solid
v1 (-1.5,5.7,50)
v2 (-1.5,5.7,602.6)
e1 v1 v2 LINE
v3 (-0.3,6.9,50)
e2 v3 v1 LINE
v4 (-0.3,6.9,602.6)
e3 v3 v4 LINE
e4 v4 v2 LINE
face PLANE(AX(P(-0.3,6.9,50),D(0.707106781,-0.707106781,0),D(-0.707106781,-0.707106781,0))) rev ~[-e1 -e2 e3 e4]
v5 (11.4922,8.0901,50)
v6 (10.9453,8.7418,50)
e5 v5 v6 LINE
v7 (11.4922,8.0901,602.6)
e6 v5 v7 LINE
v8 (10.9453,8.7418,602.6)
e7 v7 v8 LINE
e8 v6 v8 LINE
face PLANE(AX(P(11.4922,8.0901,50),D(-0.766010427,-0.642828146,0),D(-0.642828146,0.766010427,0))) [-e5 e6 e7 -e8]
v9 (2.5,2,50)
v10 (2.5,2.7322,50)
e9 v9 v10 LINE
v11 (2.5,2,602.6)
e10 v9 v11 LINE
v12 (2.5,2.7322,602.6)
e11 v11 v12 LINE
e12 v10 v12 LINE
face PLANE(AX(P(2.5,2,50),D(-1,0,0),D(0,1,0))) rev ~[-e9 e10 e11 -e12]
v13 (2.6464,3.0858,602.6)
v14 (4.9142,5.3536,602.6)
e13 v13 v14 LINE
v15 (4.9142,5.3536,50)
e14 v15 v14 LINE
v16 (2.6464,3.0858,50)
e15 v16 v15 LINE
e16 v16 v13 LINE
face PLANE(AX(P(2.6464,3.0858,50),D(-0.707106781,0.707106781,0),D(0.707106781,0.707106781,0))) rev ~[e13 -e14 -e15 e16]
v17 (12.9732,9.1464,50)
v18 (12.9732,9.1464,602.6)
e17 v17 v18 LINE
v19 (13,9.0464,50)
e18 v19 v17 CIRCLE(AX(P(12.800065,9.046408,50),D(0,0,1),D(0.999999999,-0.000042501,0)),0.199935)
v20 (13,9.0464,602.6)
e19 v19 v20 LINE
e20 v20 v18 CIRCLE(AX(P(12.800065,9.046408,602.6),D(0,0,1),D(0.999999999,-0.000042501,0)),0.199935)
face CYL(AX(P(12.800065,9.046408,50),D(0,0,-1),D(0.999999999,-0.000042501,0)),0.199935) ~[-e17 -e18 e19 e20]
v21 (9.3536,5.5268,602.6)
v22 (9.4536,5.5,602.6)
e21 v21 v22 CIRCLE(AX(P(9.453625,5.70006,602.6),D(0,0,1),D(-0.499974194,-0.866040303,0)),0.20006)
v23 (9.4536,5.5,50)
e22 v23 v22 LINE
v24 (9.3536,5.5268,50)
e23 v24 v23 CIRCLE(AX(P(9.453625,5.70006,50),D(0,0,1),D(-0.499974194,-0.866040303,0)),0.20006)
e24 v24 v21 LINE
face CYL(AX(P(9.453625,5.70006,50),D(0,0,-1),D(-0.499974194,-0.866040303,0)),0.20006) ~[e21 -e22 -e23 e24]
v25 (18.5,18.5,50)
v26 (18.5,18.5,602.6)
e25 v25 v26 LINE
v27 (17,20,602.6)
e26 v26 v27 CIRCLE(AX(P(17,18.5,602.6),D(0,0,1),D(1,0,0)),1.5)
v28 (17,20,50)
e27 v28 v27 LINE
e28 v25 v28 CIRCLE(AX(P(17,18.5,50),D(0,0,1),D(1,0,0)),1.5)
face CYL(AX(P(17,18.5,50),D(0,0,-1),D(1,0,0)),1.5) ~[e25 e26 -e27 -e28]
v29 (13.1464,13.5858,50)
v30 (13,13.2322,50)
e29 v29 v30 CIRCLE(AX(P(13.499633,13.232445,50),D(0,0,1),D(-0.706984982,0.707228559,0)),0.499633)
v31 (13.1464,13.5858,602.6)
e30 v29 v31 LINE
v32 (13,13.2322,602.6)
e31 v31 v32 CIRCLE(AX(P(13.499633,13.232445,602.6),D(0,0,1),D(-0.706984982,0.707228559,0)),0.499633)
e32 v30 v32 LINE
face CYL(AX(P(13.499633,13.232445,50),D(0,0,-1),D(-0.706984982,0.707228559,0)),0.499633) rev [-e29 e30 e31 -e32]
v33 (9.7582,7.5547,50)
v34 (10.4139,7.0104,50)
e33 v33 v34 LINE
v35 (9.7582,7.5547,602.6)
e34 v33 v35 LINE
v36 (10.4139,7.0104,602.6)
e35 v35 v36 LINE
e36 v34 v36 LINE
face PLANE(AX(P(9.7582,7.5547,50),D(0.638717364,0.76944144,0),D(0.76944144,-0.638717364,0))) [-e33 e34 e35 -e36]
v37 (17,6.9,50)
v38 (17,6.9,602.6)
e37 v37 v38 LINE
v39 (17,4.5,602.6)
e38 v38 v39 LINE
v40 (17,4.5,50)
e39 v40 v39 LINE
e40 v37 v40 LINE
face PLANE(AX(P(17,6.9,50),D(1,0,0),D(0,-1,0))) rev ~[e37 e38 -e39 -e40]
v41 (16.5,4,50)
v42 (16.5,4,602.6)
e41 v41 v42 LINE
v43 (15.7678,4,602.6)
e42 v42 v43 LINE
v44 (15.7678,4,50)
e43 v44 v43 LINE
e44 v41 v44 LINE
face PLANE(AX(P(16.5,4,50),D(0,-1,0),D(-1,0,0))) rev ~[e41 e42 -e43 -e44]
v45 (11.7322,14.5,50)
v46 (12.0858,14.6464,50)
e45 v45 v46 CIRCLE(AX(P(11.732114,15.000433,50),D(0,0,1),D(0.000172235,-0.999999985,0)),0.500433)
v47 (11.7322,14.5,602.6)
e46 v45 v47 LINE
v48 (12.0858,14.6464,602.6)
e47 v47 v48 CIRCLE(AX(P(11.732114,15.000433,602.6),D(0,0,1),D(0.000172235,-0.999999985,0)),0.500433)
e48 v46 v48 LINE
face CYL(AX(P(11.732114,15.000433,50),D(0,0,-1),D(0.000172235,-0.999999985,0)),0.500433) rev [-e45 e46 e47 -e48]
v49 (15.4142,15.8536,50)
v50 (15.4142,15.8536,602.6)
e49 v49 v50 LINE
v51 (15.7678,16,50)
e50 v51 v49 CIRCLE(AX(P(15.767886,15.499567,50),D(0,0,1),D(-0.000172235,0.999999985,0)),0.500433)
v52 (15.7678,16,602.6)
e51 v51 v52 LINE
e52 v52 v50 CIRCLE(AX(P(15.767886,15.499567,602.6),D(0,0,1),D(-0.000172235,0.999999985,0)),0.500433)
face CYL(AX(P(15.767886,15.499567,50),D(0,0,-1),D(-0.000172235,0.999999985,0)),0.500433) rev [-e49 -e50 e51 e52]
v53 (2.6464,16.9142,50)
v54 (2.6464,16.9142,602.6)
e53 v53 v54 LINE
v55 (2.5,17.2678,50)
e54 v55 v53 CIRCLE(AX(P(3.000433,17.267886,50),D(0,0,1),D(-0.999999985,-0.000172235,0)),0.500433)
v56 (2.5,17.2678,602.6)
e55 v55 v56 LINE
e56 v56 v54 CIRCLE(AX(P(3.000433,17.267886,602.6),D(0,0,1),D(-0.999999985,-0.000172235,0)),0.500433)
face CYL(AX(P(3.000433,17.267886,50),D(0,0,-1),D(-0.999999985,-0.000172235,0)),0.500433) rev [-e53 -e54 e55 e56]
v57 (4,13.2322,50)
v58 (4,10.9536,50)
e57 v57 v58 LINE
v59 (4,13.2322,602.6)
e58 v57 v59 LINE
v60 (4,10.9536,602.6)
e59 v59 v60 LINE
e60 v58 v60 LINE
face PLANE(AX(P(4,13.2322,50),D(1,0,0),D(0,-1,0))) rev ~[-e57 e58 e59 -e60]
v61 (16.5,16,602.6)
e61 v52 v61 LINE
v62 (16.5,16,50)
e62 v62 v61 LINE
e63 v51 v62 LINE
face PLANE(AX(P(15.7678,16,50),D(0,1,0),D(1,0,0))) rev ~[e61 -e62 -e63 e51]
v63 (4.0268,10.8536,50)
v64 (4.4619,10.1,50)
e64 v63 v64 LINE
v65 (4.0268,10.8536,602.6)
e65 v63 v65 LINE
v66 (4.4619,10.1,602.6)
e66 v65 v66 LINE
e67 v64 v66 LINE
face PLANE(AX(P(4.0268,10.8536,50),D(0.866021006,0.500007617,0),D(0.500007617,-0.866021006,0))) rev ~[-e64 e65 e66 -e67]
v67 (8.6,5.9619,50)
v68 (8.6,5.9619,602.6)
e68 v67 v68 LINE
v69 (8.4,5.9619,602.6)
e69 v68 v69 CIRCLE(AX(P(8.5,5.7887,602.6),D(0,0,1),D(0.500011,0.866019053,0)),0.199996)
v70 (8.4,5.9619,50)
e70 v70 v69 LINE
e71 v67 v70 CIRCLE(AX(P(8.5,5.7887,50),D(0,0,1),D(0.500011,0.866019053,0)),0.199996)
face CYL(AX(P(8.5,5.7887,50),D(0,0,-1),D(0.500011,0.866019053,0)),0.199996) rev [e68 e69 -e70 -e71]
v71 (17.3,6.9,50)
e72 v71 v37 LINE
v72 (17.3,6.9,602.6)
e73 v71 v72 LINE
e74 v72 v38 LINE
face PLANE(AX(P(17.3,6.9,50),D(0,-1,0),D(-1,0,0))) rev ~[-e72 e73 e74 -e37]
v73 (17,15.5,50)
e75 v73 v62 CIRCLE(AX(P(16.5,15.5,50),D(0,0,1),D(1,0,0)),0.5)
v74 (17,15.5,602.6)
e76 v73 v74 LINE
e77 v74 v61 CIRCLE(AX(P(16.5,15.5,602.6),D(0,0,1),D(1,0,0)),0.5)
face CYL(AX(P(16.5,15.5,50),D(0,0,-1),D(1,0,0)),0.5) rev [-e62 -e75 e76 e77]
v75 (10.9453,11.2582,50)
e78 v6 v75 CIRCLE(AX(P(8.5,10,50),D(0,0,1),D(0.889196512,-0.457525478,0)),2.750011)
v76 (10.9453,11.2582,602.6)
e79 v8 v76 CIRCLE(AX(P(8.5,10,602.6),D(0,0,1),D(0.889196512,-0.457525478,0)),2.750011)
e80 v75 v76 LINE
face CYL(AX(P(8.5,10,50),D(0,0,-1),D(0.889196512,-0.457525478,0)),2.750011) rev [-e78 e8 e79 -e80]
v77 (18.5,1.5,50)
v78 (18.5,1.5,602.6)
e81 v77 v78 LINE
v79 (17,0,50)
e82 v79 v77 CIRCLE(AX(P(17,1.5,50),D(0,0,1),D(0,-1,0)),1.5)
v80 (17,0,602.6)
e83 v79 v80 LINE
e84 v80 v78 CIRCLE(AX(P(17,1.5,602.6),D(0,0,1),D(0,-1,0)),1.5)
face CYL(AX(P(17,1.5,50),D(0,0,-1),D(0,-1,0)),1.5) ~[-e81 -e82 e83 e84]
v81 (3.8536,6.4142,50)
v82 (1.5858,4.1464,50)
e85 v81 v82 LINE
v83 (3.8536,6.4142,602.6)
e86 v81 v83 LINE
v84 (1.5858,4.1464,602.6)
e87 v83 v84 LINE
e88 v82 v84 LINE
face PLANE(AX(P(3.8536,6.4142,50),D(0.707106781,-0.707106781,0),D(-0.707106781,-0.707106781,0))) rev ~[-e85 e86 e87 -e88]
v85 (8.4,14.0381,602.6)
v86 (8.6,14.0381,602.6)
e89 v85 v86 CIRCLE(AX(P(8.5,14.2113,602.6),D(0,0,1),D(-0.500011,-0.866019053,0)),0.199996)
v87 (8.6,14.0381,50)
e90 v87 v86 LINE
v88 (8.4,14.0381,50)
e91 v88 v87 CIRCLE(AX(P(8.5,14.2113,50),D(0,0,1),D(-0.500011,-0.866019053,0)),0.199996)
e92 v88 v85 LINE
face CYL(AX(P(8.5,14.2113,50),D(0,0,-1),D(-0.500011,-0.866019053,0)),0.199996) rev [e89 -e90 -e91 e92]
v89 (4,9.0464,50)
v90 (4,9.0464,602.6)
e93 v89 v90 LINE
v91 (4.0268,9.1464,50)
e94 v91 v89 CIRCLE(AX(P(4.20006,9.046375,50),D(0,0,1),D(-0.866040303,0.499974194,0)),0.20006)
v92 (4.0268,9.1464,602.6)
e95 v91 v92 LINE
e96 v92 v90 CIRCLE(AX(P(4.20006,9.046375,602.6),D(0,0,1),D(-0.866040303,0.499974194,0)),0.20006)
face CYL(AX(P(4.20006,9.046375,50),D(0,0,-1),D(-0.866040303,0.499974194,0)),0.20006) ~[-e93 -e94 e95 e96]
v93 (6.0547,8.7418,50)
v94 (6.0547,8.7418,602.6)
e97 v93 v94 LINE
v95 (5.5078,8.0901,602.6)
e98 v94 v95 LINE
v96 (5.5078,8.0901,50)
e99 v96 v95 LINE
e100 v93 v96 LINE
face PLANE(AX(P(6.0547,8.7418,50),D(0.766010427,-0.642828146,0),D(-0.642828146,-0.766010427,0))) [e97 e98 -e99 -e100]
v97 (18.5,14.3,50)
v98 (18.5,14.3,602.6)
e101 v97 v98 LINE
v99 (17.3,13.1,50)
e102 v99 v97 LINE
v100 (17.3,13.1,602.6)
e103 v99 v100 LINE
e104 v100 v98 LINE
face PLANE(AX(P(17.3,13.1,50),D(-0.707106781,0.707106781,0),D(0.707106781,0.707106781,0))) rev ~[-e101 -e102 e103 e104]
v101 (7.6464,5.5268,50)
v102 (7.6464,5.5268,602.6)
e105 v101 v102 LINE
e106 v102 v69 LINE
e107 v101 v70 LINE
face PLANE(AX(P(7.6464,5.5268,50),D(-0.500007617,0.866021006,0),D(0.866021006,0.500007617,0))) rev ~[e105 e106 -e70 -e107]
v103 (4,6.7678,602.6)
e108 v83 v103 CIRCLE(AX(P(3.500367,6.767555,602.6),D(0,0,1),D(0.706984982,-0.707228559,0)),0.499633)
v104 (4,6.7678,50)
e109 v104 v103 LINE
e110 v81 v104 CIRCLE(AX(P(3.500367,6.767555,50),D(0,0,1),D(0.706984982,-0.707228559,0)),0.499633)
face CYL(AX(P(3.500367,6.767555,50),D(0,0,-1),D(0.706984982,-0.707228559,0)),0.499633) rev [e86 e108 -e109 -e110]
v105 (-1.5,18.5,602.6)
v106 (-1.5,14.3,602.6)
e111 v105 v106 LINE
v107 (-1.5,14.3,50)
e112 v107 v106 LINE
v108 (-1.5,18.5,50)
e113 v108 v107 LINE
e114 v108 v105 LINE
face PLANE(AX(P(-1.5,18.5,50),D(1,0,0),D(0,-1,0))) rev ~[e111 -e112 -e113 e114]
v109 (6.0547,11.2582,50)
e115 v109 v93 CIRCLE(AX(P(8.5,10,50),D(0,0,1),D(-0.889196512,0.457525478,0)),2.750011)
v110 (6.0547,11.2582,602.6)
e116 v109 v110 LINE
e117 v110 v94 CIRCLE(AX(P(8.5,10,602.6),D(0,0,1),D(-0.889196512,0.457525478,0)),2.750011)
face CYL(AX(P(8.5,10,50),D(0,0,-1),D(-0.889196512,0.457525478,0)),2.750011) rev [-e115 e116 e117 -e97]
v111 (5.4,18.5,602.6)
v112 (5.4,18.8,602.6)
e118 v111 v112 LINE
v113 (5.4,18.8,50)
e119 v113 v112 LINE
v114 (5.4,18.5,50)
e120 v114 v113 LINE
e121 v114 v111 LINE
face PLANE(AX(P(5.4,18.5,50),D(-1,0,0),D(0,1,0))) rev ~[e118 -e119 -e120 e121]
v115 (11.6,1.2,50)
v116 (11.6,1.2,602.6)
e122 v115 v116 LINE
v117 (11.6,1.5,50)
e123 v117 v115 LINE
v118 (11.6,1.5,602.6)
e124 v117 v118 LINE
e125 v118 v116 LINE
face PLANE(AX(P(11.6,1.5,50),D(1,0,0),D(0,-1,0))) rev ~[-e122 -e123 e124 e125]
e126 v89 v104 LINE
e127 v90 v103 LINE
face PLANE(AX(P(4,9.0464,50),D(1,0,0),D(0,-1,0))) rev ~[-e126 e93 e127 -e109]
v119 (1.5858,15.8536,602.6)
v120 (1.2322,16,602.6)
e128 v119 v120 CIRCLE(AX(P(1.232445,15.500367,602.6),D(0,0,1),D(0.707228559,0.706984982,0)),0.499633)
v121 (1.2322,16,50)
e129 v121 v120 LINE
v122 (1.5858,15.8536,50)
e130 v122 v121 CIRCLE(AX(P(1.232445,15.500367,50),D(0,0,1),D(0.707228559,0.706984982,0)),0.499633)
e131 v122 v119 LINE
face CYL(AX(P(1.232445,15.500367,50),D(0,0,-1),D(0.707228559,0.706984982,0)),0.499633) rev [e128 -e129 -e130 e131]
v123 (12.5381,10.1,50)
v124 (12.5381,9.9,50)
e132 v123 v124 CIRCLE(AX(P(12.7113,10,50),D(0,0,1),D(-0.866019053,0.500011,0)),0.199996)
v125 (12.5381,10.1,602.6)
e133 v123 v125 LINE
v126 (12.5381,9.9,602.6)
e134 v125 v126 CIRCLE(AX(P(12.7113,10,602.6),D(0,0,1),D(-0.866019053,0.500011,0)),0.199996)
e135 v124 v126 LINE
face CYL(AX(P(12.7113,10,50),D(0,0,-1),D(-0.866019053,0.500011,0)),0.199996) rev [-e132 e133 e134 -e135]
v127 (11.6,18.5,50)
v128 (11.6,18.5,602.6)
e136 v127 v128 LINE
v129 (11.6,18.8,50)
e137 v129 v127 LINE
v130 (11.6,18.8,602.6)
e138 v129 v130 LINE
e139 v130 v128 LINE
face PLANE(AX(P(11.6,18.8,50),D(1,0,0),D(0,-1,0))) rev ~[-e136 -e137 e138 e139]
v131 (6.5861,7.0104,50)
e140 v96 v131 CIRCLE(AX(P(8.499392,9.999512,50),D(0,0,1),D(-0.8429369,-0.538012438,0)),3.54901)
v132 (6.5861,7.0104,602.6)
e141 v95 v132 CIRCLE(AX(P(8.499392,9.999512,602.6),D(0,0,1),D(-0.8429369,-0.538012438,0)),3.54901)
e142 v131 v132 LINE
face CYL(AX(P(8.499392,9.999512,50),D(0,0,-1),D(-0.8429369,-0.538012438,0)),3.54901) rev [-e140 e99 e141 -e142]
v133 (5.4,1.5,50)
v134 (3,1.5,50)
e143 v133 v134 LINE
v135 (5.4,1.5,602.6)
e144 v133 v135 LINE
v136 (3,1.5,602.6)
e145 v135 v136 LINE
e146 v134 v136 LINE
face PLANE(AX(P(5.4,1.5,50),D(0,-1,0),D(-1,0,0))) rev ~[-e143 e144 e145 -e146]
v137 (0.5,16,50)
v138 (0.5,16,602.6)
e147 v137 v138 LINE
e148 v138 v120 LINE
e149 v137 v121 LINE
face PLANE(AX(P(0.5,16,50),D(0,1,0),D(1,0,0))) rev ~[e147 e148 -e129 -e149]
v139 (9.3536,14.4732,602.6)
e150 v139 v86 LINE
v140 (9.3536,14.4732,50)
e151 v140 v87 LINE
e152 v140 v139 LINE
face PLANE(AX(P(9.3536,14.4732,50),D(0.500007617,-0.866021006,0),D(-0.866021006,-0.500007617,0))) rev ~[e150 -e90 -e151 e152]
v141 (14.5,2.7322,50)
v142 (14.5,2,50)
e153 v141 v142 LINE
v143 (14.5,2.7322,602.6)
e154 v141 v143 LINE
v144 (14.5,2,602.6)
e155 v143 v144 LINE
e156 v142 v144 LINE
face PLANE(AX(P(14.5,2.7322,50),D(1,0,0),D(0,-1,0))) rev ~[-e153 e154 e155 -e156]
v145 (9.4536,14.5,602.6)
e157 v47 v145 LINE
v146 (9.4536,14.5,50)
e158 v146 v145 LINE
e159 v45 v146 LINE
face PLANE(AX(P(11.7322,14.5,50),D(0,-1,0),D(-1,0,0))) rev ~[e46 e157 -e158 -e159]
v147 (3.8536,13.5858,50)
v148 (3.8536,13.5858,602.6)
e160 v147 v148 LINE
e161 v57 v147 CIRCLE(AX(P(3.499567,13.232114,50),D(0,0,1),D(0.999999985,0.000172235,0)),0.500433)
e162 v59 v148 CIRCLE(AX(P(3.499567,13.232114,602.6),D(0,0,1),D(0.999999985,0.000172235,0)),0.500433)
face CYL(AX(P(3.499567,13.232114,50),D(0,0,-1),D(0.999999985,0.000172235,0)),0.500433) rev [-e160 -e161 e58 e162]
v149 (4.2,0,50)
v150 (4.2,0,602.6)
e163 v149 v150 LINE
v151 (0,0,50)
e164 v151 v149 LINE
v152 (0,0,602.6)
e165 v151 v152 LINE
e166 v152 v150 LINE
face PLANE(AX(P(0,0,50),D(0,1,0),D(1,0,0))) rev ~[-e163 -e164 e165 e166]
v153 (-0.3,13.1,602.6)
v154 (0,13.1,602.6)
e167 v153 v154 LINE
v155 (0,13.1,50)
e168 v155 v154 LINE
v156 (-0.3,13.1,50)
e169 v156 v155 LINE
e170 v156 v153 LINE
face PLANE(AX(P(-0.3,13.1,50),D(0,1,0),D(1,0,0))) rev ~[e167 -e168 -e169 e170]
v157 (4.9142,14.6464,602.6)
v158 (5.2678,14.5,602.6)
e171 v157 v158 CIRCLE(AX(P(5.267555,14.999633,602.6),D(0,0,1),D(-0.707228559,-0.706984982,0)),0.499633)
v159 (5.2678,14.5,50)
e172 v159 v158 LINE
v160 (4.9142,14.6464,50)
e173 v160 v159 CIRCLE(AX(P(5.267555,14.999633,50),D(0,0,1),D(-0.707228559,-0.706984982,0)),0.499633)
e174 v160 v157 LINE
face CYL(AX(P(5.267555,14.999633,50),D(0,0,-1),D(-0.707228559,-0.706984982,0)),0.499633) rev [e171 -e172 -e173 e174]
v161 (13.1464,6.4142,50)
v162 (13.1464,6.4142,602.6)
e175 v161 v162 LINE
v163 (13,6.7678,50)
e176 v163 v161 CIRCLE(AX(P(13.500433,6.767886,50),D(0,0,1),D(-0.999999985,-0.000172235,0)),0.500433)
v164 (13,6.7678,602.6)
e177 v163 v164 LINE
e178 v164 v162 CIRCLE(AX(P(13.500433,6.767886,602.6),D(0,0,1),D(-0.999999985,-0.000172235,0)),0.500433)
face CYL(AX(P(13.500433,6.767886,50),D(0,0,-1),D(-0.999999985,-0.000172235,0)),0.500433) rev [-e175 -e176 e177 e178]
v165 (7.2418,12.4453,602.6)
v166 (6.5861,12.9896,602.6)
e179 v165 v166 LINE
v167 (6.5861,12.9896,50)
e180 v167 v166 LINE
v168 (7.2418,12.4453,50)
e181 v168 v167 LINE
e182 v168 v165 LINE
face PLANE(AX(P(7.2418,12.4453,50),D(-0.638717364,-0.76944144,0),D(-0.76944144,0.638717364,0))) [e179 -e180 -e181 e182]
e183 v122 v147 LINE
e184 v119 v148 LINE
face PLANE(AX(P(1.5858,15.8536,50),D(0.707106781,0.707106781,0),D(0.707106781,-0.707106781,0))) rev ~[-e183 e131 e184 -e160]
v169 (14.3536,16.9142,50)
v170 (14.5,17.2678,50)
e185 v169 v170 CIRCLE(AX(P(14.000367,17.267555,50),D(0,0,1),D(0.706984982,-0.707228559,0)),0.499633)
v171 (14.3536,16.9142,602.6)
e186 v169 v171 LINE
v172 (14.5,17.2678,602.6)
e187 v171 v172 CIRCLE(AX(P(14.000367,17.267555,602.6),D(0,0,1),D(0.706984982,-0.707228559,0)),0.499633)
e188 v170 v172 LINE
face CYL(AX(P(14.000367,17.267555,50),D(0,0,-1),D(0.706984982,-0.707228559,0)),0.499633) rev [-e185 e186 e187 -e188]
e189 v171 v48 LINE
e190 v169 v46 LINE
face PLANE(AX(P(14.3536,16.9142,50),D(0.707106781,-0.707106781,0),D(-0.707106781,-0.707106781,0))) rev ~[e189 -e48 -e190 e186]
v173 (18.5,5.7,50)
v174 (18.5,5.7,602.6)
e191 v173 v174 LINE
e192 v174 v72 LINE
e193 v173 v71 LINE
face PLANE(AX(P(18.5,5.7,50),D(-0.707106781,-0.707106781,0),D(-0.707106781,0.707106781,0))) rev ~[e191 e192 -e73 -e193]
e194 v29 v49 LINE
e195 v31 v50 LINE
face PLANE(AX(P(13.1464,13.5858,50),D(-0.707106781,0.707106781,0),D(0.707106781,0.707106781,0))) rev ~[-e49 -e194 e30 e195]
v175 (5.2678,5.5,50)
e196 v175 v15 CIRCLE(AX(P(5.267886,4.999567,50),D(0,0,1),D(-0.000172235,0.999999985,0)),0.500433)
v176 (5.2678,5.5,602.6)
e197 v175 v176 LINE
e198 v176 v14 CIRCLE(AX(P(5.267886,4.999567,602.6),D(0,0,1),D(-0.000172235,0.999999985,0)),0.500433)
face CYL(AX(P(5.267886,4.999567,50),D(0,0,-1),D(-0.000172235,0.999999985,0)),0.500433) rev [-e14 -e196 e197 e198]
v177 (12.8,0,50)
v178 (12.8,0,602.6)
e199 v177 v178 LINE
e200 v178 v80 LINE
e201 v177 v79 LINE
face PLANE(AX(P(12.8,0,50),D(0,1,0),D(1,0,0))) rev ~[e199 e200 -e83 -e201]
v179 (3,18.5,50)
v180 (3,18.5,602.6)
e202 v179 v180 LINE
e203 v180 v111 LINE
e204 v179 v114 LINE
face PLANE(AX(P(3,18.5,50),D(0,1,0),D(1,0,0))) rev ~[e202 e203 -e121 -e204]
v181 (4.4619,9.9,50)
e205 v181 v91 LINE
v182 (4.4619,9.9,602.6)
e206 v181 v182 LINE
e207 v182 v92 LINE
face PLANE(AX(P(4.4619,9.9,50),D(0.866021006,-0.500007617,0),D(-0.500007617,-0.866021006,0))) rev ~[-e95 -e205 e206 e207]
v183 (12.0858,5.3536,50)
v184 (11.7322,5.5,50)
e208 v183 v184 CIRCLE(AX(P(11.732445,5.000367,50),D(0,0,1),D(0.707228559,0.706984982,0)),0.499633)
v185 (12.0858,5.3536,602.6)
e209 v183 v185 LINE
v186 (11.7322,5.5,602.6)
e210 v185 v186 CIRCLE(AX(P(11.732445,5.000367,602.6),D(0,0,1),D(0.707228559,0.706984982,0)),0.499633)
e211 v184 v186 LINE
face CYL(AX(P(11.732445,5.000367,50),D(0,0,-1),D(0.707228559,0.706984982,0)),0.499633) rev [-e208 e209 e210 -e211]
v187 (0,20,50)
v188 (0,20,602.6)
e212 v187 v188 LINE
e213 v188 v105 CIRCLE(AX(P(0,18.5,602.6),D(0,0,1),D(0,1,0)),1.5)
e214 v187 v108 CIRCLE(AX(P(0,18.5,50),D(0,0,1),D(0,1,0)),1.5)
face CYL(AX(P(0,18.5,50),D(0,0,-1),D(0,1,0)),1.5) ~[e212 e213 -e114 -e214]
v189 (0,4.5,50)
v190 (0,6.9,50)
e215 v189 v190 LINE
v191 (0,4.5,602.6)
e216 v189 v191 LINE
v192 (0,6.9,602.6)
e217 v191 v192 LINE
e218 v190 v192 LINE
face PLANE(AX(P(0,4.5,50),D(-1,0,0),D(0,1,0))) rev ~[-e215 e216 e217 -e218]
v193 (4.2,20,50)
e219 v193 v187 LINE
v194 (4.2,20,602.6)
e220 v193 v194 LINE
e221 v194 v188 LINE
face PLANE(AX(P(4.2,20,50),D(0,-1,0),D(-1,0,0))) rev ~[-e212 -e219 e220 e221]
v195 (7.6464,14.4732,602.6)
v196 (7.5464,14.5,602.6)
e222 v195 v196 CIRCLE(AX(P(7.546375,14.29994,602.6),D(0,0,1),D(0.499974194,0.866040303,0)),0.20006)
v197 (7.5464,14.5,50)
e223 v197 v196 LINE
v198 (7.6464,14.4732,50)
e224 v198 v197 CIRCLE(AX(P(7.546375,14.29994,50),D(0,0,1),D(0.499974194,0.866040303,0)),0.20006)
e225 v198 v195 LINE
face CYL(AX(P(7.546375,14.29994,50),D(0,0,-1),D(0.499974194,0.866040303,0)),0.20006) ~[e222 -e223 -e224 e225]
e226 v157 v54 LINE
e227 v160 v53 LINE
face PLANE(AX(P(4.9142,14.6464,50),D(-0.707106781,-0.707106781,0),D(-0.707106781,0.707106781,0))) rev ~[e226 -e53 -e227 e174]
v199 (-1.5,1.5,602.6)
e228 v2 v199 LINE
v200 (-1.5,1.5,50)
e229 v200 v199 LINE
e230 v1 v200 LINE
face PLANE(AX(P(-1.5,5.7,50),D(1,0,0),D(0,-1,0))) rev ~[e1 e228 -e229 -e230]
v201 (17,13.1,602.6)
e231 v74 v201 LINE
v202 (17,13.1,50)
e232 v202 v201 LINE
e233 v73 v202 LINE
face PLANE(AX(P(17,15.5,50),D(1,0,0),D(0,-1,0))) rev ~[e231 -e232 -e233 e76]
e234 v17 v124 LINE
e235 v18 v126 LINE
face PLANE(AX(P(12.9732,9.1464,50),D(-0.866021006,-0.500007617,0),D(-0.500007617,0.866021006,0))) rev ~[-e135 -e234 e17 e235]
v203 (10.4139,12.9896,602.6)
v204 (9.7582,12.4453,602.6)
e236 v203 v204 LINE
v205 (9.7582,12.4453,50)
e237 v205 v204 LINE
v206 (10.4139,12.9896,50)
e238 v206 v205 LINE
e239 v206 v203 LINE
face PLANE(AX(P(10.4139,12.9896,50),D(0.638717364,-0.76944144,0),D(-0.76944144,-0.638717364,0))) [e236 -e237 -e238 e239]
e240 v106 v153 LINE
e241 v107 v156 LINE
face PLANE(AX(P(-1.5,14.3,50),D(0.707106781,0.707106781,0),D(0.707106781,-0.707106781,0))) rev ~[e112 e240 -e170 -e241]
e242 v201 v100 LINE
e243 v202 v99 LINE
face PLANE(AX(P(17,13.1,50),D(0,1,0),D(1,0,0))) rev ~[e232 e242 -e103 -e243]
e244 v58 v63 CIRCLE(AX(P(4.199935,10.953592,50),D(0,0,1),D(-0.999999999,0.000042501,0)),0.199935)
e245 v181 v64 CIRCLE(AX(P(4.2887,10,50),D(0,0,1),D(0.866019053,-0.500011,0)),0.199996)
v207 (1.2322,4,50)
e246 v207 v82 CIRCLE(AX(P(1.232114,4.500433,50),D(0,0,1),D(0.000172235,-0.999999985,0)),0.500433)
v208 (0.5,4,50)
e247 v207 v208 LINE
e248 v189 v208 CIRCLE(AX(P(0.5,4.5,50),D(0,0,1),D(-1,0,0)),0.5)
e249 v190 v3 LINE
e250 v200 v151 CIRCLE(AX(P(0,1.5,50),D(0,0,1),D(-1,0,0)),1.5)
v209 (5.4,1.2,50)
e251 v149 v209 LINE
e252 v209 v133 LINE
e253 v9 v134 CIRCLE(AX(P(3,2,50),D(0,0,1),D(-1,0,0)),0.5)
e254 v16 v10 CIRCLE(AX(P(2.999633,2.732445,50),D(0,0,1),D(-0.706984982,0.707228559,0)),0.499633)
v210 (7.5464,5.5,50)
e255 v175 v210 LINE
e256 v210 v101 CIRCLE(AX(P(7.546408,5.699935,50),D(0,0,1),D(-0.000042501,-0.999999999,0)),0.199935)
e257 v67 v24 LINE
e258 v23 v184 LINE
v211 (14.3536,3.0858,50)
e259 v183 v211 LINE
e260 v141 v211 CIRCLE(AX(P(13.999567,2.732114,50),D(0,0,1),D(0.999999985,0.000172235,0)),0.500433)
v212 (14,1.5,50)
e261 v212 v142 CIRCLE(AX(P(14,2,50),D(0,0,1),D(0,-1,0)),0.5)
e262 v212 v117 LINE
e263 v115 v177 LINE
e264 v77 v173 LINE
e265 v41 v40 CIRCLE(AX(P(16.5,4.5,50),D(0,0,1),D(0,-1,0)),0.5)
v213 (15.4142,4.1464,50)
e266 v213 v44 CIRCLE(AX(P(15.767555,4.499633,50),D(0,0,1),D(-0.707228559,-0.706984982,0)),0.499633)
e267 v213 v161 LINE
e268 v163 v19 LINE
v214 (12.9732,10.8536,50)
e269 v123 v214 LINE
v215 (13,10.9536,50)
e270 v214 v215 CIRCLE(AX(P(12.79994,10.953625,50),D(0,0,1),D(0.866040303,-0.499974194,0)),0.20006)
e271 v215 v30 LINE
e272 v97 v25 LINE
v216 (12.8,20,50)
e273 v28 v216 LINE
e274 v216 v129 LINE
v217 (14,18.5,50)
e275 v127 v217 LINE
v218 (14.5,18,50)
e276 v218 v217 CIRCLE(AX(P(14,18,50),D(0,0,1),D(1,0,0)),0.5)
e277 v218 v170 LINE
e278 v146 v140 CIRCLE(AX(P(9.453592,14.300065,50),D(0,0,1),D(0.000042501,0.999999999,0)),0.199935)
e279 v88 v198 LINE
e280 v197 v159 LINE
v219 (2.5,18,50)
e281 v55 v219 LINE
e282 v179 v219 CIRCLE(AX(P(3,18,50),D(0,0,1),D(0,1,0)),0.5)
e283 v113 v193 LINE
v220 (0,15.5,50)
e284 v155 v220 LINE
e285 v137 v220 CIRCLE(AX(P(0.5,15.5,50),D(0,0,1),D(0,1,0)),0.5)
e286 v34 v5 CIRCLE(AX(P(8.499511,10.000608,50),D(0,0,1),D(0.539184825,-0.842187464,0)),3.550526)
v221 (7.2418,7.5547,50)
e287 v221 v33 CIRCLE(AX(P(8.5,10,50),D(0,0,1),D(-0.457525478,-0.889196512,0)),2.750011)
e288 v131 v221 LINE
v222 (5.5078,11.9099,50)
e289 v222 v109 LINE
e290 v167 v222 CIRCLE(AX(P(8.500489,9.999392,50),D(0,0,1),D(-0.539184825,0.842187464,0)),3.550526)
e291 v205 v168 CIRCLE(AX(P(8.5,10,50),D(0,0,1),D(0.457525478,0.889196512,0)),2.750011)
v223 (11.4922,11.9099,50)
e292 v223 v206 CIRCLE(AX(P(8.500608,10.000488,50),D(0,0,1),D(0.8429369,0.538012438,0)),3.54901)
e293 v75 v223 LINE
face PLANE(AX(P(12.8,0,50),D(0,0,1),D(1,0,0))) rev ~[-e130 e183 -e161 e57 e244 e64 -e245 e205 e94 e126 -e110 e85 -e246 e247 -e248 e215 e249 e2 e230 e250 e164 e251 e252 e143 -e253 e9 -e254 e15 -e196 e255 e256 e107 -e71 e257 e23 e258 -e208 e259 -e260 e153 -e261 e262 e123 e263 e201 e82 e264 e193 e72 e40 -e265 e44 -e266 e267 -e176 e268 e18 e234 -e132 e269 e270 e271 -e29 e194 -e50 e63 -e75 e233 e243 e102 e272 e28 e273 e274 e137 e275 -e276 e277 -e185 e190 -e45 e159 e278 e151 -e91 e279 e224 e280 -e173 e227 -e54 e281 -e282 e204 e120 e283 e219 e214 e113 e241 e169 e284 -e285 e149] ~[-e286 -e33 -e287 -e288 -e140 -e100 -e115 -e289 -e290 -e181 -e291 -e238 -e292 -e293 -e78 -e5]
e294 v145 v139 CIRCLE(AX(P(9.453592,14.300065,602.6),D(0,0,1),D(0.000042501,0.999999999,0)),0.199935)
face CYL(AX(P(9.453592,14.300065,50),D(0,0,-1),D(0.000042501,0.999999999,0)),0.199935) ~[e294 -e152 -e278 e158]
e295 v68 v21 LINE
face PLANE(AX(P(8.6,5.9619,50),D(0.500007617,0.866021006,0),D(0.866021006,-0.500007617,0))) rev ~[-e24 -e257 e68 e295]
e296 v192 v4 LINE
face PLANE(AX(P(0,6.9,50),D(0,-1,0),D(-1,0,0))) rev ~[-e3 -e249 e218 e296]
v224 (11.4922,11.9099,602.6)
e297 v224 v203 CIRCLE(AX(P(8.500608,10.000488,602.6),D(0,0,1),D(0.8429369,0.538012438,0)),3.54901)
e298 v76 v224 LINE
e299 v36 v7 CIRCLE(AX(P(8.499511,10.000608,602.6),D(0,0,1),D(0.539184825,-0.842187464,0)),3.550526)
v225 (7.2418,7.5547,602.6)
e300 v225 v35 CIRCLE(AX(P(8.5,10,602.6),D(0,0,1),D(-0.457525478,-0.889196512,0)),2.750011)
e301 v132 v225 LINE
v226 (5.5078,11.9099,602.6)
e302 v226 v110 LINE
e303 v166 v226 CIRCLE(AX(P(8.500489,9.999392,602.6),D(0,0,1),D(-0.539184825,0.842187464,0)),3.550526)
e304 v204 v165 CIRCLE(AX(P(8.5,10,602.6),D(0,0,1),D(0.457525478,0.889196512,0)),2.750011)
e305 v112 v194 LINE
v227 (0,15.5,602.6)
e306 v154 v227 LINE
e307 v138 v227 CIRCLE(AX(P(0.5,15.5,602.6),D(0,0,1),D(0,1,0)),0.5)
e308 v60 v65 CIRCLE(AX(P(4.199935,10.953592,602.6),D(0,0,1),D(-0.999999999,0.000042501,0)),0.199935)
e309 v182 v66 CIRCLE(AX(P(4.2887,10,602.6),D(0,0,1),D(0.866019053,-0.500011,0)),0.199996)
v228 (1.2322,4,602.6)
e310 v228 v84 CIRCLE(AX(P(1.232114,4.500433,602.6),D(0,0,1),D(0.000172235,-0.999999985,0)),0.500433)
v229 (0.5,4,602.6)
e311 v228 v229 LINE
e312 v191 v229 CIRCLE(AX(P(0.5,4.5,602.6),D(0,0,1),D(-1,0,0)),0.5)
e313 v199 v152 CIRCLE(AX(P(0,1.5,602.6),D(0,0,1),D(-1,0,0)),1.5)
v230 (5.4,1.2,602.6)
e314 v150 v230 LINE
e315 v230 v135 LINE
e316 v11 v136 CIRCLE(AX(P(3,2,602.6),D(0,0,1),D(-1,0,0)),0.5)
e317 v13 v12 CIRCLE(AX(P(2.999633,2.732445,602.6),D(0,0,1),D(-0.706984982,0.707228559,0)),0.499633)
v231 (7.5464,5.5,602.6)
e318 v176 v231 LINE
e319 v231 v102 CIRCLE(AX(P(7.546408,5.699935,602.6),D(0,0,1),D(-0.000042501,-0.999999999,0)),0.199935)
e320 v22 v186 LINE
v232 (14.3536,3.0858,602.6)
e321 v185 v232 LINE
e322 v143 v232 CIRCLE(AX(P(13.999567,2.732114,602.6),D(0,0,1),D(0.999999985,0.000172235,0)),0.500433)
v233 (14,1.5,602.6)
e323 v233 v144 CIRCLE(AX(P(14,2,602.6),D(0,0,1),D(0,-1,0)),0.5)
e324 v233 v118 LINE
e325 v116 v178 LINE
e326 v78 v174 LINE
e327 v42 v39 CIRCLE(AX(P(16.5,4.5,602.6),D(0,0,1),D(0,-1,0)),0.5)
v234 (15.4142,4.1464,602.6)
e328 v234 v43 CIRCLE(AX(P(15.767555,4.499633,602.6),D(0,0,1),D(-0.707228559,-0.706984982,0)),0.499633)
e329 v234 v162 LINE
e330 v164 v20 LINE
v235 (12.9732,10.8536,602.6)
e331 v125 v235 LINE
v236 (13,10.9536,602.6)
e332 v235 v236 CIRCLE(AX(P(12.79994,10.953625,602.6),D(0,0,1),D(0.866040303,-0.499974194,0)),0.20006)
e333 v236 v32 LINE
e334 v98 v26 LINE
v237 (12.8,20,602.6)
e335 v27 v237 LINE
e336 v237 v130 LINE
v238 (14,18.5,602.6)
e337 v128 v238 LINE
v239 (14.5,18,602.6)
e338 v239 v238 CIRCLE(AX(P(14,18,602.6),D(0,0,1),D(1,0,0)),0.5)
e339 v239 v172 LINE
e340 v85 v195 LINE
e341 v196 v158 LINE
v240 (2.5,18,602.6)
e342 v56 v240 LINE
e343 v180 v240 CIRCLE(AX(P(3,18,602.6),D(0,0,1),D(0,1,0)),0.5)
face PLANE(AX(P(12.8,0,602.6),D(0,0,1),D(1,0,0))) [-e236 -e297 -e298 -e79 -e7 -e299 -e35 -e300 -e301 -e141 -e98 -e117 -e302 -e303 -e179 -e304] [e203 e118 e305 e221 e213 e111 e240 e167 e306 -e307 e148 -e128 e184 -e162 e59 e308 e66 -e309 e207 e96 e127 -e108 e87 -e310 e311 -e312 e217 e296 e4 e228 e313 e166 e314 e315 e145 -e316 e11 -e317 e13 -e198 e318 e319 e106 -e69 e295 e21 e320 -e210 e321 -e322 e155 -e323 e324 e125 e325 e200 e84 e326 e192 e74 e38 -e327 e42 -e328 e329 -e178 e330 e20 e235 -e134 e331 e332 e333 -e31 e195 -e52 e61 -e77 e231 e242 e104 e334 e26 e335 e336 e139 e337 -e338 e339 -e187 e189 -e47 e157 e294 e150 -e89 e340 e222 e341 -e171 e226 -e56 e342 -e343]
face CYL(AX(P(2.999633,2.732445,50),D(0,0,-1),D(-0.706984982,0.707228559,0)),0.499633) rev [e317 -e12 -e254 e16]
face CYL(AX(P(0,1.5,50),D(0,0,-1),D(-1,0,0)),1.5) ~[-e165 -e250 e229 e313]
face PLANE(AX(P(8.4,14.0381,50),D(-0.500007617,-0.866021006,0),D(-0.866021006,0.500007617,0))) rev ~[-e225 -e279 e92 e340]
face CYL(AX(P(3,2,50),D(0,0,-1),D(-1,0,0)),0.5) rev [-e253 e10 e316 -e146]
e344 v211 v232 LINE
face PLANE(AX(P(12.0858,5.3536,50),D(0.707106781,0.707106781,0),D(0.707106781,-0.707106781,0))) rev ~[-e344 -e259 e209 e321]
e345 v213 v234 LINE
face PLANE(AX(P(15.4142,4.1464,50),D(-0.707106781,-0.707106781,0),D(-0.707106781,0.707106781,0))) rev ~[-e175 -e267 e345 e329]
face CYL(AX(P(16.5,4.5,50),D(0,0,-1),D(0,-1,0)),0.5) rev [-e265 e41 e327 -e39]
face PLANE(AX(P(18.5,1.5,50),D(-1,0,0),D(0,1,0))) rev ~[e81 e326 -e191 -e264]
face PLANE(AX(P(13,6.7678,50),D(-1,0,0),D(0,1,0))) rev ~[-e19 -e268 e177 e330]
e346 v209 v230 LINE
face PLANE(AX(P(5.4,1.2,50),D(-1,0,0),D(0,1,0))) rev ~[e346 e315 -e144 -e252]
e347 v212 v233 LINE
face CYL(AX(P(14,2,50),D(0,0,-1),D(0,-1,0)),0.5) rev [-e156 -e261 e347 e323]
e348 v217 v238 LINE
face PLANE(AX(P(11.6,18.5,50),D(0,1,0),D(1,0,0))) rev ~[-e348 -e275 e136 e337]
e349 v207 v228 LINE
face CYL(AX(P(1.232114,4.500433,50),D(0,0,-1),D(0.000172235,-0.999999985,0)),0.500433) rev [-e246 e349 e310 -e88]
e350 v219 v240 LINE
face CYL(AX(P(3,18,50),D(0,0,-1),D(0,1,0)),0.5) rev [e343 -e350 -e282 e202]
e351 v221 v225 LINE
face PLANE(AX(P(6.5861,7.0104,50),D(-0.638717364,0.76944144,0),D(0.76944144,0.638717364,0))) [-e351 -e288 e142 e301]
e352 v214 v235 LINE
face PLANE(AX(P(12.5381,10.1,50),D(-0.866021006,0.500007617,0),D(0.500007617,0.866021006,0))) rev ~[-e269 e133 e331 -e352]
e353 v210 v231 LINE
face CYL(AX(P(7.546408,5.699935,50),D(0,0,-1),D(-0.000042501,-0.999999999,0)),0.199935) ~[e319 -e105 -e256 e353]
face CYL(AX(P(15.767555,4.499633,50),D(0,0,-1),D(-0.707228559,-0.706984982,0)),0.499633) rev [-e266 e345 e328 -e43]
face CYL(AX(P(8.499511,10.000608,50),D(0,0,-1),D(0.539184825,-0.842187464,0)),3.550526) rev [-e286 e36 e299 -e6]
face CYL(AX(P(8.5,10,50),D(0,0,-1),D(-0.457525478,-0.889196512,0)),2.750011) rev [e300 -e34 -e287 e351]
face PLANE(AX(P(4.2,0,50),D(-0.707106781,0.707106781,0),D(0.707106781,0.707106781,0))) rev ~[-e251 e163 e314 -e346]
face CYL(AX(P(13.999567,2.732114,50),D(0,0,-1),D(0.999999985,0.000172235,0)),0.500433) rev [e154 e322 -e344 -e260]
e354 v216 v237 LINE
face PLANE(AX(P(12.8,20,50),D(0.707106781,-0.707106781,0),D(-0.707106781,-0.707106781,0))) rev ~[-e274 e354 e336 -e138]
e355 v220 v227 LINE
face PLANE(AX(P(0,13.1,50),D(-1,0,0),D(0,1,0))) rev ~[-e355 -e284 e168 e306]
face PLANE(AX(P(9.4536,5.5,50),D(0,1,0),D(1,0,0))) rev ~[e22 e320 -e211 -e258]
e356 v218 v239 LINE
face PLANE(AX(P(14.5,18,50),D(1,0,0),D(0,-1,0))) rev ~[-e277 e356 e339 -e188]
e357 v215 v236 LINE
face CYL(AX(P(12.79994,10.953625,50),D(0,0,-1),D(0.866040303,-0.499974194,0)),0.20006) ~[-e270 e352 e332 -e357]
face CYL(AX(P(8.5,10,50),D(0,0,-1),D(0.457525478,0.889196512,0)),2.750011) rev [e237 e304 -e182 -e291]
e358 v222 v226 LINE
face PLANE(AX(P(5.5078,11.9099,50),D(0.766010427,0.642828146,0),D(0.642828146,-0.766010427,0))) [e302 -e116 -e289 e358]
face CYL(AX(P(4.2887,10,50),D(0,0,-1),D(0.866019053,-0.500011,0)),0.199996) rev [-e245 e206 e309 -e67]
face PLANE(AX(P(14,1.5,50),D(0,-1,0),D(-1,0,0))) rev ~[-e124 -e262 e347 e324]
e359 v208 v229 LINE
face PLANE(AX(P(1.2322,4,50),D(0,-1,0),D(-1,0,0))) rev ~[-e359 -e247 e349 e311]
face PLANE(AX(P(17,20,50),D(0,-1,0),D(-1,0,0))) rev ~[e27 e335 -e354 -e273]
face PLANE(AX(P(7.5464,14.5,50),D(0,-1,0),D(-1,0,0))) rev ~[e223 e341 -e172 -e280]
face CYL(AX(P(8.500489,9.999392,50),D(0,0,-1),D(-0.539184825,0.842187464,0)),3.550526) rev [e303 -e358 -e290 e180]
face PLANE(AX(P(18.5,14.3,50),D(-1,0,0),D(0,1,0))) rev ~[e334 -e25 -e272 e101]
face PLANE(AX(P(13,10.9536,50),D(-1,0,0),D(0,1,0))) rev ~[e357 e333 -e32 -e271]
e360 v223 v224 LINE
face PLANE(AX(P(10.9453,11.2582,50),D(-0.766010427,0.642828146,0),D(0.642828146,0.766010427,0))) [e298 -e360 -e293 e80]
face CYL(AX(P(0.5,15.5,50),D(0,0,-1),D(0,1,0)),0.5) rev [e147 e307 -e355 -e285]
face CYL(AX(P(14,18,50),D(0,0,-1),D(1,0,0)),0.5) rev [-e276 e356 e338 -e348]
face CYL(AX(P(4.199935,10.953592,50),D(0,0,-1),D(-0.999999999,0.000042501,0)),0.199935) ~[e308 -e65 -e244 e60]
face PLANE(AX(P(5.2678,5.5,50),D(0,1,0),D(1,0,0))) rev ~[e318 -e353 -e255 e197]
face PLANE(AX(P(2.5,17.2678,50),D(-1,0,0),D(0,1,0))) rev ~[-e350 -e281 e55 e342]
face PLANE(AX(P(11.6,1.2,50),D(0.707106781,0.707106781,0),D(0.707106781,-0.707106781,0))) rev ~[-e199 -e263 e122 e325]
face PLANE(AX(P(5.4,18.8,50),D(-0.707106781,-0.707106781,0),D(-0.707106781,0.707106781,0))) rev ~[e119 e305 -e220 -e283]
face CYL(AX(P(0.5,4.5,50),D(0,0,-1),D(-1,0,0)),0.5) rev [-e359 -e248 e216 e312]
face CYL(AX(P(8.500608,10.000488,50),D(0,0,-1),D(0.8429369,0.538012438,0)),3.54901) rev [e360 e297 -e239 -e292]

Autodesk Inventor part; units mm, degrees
ref_plane "YZ Plane" through (0, 0, 0) normal (1, 0, 0) x (0, 1, 0)
ref_plane "Work Plane5" through (12.8, 0, 50) normal (0, 0, 1) x (1, 0, 0)
sketch "Sketch" plane through (12.8, 0, 50) normal (0, 0, 1) x (1, 0, 0)
  arc A0 (1.7, 2.7322) -> (1.5536, 3.0858) centre (1.2, 2.7322) ccw
  line L0 (1.7, 2.7322) -> (1.7, 2)
  arc A1 (1.2, 1.5) -> (1.7, 2) centre (1.2, 2) ccw
  line L1 (1.2, 1.5) -> (-1.2, 1.5)
  line L2 (-1.2, 1.5) -> (-1.2, 1.2)
  line L3 (-1.2, 1.2) -> (0, 0)
  line L4 (0, 0) -> (4.2, 0)
  arc A2 (4.2, 0) -> (5.7, 1.5) centre (4.2, 1.5) ccw
  line L5 (5.7, 1.5) -> (5.7, 5.7)
  line L6 (5.7, 5.7) -> (4.5, 6.9)
  line L7 (4.5, 6.9) -> (4.2, 6.9)
  line L8 (4.2, 6.9) -> (4.2, 4.5)
  arc A3 (3.7, 4) -> (4.2, 4.5) centre (3.7, 4.5) ccw
  line L9 (3.7, 4) -> (2.9678, 4)
  arc A4 (2.6142, 4.1464) -> (2.9678, 4) centre (2.9678, 4.5) ccw
  line L10 (2.6142, 4.1464) -> (0.3464, 6.4142)
  arc A5 (0.2, 6.7678) -> (0.3464, 6.4142) centre (0.7, 6.7678) ccw
  line L11 (0.2, 6.7678) -> (0.2, 9.0464)
  arc A6 (0.2, 9.0464) -> (0.1732, 9.1464) centre (0, 9.0464) ccw
  line L12 (0.1732, 9.1464) -> (-0.2619, 9.9)
  arc A7 (-0.2619, 10.1) -> (-0.2619, 9.9) centre (-0.0887, 10) ccw
  line L13 (-0.2619, 10.1) -> (0.1732, 10.8536)
  arc A8 (0.1732, 10.8536) -> (0.2, 10.9536) centre (0, 10.9536) ccw
  line L14 (0.2, 10.9536) -> (0.2, 13.2322)
  arc A9 (0.3464, 13.5858) -> (0.2, 13.2322) centre (0.7, 13.2322) ccw
  line L15 (0.3464, 13.5858) -> (2.6142, 15.8536)
  arc A10 (2.9678, 16) -> (2.6142, 15.8536) centre (2.9678, 15.5) ccw
  line L16 (2.9678, 16) -> (3.7, 16)
  arc A11 (4.2, 15.5) -> (3.7, 16) centre (3.7, 15.5) ccw
  line L17 (4.2, 15.5) -> (4.2, 13.1)
  line L18 (4.2, 13.1) -> (4.5, 13.1)
  line L19 (4.5, 13.1) -> (5.7, 14.3)
  line L20 (5.7, 14.3) -> (5.7, 18.5)
  arc A12 (5.7, 18.5) -> (4.2, 20) centre (4.2, 18.5) ccw
  line L21 (4.2, 20) -> (0, 20)
  line L22 (0, 20) -> (-1.2, 18.8)
  line L23 (-1.2, 18.8) -> (-1.2, 18.5)
  line L24 (-1.2, 18.5) -> (1.2, 18.5)
  arc A13 (1.7, 18) -> (1.2, 18.5) centre (1.2, 18) ccw
  line L25 (1.7, 18) -> (1.7, 17.2678)
  arc A14 (1.5536, 16.9142) -> (1.7, 17.2678) centre (1.2, 17.2678) ccw
  line L26 (1.5536, 16.9142) -> (-0.7142, 14.6464)
  arc A15 (-1.0678, 14.5) -> (-0.7142, 14.6464) centre (-1.0678, 15) ccw
  line L27 (-1.0678, 14.5) -> (-3.3464, 14.5)
  arc A16 (-3.3464, 14.5) -> (-3.4464, 14.4732) centre (-3.3464, 14.3) ccw
  line L28 (-3.4464, 14.4732) -> (-4.2, 14.0381)
  arc A17 (-4.4, 14.0381) -> (-4.2, 14.0381) centre (-4.3, 14.2113) ccw
  line L29 (-4.4, 14.0381) -> (-5.1536, 14.4732)
  arc A18 (-5.1536, 14.4732) -> (-5.2536, 14.5) centre (-5.2536, 14.3) ccw
  line L30 (-5.2536, 14.5) -> (-7.5322, 14.5)
  arc A19 (-7.8858, 14.6464) -> (-7.5322, 14.5) centre (-7.5322, 15) ccw
  line L31 (-7.8858, 14.6464) -> (-10.1536, 16.9142)
  arc A20 (-10.3, 17.2678) -> (-10.1536, 16.9142) centre (-9.8, 17.2678) ccw
  line L32 (-10.3, 17.2678) -> (-10.3, 18)
  arc A21 (-9.8, 18.5) -> (-10.3, 18) centre (-9.8, 18) ccw
  line L33 (-9.8, 18.5) -> (-7.4, 18.5)
  line L34 (-7.4, 18.5) -> (-7.4, 18.8)
  line L35 (-7.4, 18.8) -> (-8.6, 20)
  line L36 (-8.6, 20) -> (-12.8, 20)
  arc A22 (-12.8, 20) -> (-14.3, 18.5) centre (-12.8, 18.5) ccw
  line L37 (-14.3, 18.5) -> (-14.3, 14.3)
  line L38 (-14.3, 14.3) -> (-13.1, 13.1)
  line L39 (-13.1, 13.1) -> (-12.8, 13.1)
  line L40 (-12.8, 13.1) -> (-12.8, 15.5)
  arc A23 (-12.3, 16) -> (-12.8, 15.5) centre (-12.3, 15.5) ccw
  line L41 (-12.3, 16) -> (-11.5678, 16)
  arc A24 (-11.2142, 15.8536) -> (-11.5678, 16) centre (-11.5678, 15.5) ccw
  line L42 (-11.2142, 15.8536) -> (-8.9464, 13.5858)
  arc A25 (-8.8, 13.2322) -> (-8.9464, 13.5858) centre (-9.3, 13.2322) ccw
  line L43 (-8.8, 13.2322) -> (-8.8, 10.9536)
  arc A26 (-8.8, 10.9536) -> (-8.7732, 10.8536) centre (-8.6, 10.9536) ccw
  line L44 (-8.7732, 10.8536) -> (-8.3381, 10.1)
  arc A27 (-8.3381, 9.9) -> (-8.3381, 10.1) centre (-8.5113, 10) ccw
  line L45 (-8.3381, 9.9) -> (-8.7732, 9.1464)
  arc A28 (-8.7732, 9.1464) -> (-8.8, 9.0464) centre (-8.6, 9.0464) ccw
  line L46 (-8.8, 9.0464) -> (-8.8, 6.7678)
  arc A29 (-8.9464, 6.4142) -> (-8.8, 6.7678) centre (-9.3, 6.7678) ccw
  line L47 (-8.9464, 6.4142) -> (-11.2142, 4.1464)
  arc A30 (-11.5678, 4) -> (-11.2142, 4.1464) centre (-11.5678, 4.5) ccw
  line L48 (-11.5678, 4) -> (-12.3, 4)
  arc A31 (-12.8, 4.5) -> (-12.3, 4) centre (-12.3, 4.5) ccw
  line L49 (-12.8, 4.5) -> (-12.8, 6.9)
  line L50 (-12.8, 6.9) -> (-13.1, 6.9)
  line L51 (-13.1, 6.9) -> (-14.3, 5.7)
  line L52 (-14.3, 5.7) -> (-14.3, 1.5)
  arc A32 (-14.3, 1.5) -> (-12.8, 0) centre (-12.8, 1.5) ccw
  line L53 (-12.8, 0) -> (-8.6, 0)
  line L54 (-8.6, 0) -> (-7.4, 1.2)
  line L55 (-7.4, 1.2) -> (-7.4, 1.5)
  line L56 (-7.4, 1.5) -> (-9.8, 1.5)
  arc A33 (-10.3, 2) -> (-9.8, 1.5) centre (-9.8, 2) ccw
  line L57 (-10.3, 2) -> (-10.3, 2.7322)
  arc A34 (-10.1536, 3.0858) -> (-10.3, 2.7322) centre (-9.8, 2.7322) ccw
  line L58 (-10.1536, 3.0858) -> (-7.8858, 5.3536)
  arc A35 (-7.5322, 5.5) -> (-7.8858, 5.3536) centre (-7.5322, 5) ccw
  line L59 (-7.5322, 5.5) -> (-5.2536, 5.5)
  arc A36 (-5.2536, 5.5) -> (-5.1536, 5.5268) centre (-5.2536, 5.7) ccw
  line L60 (-5.1536, 5.5268) -> (-4.4, 5.9619)
  arc A37 (-4.2, 5.9619) -> (-4.4, 5.9619) centre (-4.3, 5.7887) ccw
  line L61 (-4.2, 5.9619) -> (-3.4464, 5.5268)
  arc A38 (-3.4464, 5.5268) -> (-3.3464, 5.5) centre (-3.3464, 5.7) ccw
  line L62 (-3.3464, 5.5) -> (-1.0678, 5.5)
  arc A39 (-0.7142, 5.3536) -> (-1.0678, 5.5) centre (-1.0678, 5) ccw
  line L63 (-0.7142, 5.3536) -> (1.5536, 3.0858)
  line L64 (-6.7453, 8.7418) -> (-7.2922, 8.0901)
  arc A40 (-6.7453, 11.2582) -> (-6.7453, 8.7418) centre (-4.3, 10) ccw
  line L65 (-7.2922, 11.9099) -> (-6.7453, 11.2582)
  arc A41 (-6.2139, 12.9896) -> (-7.2922, 11.9099) centre (-4.3, 10) ccw
  line L66 (-5.5582, 12.4453) -> (-6.2139, 12.9896)
  arc A42 (-3.0418, 12.4453) -> (-5.5582, 12.4453) centre (-4.3, 10) ccw
  line L67 (-2.3861, 12.9896) -> (-3.0418, 12.4453)
  arc A43 (-1.3078, 11.9099) -> (-2.3861, 12.9896) centre (-4.3, 10) ccw
  line L68 (-1.8547, 11.2582) -> (-1.3078, 11.9099)
  arc A44 (-1.8547, 8.7418) -> (-1.8547, 11.2582) centre (-4.3, 10) ccw
  line L69 (-1.3078, 8.0901) -> (-1.8547, 8.7418)
  arc A45 (-2.3861, 7.0104) -> (-1.3078, 8.0901) centre (-4.3, 10) ccw
  line L70 (-3.0418, 7.5547) -> (-2.3861, 7.0104)
  arc A46 (-5.5582, 7.5547) -> (-3.0418, 7.5547) centre (-4.3, 10) ccw
  line L71 (-6.2139, 7.0104) -> (-5.5582, 7.5547)
  arc A47 (-7.2922, 8.0901) -> (-6.2139, 7.0104) centre (-4.3, 10) ccw
ref_plane "Start Plane" through (12.8, 0, 50) normal (0, 0, 1) x (1, 0, 0)
ref_plane "End Plane" through (12.8, 0, 602.6) normal (0, 0, 1) x (1, 0, 0)
extrude "Body" add sketch "Sketch" along normal up to surface (552.6 mm away) from surface at 0
sketch "Sketch8" plane through (12.8, 0, 50) normal (0, 0, 1) x (1, 0, 0)
  line L0 (0, 0) -> (10, 0)
ref_plane "Work Plane10" through (12.8, 0, 50) normal (0, -1, 0) x (1, 0, 0)
sketch "Sketch9" plane through (12.8, 0, 50) normal (0, -1, 0) x (1, 0, 0)
  line L0 (-2, 0) -> (12, 0)
  line L1 (-2, 552.6) -> (12, 552.6)
  dimension "d16" = 552.6
equation "\"LENGTH\" = 552.6"
equation "\"G_OFFSET_START\" = 0"
equation "\"G_OFFSET_END\" = 0"
equation "\"G_L\" = d16"
equation "\"G_OFFSET_START1\" = 0"
equation "\"G_OFFSET_END1\" = 0"
equation "\"d12\" = LENGTH + G_OFFSET_END1"
properties part number "2020 V-slot 100mm" material "Aluminum 6061"
